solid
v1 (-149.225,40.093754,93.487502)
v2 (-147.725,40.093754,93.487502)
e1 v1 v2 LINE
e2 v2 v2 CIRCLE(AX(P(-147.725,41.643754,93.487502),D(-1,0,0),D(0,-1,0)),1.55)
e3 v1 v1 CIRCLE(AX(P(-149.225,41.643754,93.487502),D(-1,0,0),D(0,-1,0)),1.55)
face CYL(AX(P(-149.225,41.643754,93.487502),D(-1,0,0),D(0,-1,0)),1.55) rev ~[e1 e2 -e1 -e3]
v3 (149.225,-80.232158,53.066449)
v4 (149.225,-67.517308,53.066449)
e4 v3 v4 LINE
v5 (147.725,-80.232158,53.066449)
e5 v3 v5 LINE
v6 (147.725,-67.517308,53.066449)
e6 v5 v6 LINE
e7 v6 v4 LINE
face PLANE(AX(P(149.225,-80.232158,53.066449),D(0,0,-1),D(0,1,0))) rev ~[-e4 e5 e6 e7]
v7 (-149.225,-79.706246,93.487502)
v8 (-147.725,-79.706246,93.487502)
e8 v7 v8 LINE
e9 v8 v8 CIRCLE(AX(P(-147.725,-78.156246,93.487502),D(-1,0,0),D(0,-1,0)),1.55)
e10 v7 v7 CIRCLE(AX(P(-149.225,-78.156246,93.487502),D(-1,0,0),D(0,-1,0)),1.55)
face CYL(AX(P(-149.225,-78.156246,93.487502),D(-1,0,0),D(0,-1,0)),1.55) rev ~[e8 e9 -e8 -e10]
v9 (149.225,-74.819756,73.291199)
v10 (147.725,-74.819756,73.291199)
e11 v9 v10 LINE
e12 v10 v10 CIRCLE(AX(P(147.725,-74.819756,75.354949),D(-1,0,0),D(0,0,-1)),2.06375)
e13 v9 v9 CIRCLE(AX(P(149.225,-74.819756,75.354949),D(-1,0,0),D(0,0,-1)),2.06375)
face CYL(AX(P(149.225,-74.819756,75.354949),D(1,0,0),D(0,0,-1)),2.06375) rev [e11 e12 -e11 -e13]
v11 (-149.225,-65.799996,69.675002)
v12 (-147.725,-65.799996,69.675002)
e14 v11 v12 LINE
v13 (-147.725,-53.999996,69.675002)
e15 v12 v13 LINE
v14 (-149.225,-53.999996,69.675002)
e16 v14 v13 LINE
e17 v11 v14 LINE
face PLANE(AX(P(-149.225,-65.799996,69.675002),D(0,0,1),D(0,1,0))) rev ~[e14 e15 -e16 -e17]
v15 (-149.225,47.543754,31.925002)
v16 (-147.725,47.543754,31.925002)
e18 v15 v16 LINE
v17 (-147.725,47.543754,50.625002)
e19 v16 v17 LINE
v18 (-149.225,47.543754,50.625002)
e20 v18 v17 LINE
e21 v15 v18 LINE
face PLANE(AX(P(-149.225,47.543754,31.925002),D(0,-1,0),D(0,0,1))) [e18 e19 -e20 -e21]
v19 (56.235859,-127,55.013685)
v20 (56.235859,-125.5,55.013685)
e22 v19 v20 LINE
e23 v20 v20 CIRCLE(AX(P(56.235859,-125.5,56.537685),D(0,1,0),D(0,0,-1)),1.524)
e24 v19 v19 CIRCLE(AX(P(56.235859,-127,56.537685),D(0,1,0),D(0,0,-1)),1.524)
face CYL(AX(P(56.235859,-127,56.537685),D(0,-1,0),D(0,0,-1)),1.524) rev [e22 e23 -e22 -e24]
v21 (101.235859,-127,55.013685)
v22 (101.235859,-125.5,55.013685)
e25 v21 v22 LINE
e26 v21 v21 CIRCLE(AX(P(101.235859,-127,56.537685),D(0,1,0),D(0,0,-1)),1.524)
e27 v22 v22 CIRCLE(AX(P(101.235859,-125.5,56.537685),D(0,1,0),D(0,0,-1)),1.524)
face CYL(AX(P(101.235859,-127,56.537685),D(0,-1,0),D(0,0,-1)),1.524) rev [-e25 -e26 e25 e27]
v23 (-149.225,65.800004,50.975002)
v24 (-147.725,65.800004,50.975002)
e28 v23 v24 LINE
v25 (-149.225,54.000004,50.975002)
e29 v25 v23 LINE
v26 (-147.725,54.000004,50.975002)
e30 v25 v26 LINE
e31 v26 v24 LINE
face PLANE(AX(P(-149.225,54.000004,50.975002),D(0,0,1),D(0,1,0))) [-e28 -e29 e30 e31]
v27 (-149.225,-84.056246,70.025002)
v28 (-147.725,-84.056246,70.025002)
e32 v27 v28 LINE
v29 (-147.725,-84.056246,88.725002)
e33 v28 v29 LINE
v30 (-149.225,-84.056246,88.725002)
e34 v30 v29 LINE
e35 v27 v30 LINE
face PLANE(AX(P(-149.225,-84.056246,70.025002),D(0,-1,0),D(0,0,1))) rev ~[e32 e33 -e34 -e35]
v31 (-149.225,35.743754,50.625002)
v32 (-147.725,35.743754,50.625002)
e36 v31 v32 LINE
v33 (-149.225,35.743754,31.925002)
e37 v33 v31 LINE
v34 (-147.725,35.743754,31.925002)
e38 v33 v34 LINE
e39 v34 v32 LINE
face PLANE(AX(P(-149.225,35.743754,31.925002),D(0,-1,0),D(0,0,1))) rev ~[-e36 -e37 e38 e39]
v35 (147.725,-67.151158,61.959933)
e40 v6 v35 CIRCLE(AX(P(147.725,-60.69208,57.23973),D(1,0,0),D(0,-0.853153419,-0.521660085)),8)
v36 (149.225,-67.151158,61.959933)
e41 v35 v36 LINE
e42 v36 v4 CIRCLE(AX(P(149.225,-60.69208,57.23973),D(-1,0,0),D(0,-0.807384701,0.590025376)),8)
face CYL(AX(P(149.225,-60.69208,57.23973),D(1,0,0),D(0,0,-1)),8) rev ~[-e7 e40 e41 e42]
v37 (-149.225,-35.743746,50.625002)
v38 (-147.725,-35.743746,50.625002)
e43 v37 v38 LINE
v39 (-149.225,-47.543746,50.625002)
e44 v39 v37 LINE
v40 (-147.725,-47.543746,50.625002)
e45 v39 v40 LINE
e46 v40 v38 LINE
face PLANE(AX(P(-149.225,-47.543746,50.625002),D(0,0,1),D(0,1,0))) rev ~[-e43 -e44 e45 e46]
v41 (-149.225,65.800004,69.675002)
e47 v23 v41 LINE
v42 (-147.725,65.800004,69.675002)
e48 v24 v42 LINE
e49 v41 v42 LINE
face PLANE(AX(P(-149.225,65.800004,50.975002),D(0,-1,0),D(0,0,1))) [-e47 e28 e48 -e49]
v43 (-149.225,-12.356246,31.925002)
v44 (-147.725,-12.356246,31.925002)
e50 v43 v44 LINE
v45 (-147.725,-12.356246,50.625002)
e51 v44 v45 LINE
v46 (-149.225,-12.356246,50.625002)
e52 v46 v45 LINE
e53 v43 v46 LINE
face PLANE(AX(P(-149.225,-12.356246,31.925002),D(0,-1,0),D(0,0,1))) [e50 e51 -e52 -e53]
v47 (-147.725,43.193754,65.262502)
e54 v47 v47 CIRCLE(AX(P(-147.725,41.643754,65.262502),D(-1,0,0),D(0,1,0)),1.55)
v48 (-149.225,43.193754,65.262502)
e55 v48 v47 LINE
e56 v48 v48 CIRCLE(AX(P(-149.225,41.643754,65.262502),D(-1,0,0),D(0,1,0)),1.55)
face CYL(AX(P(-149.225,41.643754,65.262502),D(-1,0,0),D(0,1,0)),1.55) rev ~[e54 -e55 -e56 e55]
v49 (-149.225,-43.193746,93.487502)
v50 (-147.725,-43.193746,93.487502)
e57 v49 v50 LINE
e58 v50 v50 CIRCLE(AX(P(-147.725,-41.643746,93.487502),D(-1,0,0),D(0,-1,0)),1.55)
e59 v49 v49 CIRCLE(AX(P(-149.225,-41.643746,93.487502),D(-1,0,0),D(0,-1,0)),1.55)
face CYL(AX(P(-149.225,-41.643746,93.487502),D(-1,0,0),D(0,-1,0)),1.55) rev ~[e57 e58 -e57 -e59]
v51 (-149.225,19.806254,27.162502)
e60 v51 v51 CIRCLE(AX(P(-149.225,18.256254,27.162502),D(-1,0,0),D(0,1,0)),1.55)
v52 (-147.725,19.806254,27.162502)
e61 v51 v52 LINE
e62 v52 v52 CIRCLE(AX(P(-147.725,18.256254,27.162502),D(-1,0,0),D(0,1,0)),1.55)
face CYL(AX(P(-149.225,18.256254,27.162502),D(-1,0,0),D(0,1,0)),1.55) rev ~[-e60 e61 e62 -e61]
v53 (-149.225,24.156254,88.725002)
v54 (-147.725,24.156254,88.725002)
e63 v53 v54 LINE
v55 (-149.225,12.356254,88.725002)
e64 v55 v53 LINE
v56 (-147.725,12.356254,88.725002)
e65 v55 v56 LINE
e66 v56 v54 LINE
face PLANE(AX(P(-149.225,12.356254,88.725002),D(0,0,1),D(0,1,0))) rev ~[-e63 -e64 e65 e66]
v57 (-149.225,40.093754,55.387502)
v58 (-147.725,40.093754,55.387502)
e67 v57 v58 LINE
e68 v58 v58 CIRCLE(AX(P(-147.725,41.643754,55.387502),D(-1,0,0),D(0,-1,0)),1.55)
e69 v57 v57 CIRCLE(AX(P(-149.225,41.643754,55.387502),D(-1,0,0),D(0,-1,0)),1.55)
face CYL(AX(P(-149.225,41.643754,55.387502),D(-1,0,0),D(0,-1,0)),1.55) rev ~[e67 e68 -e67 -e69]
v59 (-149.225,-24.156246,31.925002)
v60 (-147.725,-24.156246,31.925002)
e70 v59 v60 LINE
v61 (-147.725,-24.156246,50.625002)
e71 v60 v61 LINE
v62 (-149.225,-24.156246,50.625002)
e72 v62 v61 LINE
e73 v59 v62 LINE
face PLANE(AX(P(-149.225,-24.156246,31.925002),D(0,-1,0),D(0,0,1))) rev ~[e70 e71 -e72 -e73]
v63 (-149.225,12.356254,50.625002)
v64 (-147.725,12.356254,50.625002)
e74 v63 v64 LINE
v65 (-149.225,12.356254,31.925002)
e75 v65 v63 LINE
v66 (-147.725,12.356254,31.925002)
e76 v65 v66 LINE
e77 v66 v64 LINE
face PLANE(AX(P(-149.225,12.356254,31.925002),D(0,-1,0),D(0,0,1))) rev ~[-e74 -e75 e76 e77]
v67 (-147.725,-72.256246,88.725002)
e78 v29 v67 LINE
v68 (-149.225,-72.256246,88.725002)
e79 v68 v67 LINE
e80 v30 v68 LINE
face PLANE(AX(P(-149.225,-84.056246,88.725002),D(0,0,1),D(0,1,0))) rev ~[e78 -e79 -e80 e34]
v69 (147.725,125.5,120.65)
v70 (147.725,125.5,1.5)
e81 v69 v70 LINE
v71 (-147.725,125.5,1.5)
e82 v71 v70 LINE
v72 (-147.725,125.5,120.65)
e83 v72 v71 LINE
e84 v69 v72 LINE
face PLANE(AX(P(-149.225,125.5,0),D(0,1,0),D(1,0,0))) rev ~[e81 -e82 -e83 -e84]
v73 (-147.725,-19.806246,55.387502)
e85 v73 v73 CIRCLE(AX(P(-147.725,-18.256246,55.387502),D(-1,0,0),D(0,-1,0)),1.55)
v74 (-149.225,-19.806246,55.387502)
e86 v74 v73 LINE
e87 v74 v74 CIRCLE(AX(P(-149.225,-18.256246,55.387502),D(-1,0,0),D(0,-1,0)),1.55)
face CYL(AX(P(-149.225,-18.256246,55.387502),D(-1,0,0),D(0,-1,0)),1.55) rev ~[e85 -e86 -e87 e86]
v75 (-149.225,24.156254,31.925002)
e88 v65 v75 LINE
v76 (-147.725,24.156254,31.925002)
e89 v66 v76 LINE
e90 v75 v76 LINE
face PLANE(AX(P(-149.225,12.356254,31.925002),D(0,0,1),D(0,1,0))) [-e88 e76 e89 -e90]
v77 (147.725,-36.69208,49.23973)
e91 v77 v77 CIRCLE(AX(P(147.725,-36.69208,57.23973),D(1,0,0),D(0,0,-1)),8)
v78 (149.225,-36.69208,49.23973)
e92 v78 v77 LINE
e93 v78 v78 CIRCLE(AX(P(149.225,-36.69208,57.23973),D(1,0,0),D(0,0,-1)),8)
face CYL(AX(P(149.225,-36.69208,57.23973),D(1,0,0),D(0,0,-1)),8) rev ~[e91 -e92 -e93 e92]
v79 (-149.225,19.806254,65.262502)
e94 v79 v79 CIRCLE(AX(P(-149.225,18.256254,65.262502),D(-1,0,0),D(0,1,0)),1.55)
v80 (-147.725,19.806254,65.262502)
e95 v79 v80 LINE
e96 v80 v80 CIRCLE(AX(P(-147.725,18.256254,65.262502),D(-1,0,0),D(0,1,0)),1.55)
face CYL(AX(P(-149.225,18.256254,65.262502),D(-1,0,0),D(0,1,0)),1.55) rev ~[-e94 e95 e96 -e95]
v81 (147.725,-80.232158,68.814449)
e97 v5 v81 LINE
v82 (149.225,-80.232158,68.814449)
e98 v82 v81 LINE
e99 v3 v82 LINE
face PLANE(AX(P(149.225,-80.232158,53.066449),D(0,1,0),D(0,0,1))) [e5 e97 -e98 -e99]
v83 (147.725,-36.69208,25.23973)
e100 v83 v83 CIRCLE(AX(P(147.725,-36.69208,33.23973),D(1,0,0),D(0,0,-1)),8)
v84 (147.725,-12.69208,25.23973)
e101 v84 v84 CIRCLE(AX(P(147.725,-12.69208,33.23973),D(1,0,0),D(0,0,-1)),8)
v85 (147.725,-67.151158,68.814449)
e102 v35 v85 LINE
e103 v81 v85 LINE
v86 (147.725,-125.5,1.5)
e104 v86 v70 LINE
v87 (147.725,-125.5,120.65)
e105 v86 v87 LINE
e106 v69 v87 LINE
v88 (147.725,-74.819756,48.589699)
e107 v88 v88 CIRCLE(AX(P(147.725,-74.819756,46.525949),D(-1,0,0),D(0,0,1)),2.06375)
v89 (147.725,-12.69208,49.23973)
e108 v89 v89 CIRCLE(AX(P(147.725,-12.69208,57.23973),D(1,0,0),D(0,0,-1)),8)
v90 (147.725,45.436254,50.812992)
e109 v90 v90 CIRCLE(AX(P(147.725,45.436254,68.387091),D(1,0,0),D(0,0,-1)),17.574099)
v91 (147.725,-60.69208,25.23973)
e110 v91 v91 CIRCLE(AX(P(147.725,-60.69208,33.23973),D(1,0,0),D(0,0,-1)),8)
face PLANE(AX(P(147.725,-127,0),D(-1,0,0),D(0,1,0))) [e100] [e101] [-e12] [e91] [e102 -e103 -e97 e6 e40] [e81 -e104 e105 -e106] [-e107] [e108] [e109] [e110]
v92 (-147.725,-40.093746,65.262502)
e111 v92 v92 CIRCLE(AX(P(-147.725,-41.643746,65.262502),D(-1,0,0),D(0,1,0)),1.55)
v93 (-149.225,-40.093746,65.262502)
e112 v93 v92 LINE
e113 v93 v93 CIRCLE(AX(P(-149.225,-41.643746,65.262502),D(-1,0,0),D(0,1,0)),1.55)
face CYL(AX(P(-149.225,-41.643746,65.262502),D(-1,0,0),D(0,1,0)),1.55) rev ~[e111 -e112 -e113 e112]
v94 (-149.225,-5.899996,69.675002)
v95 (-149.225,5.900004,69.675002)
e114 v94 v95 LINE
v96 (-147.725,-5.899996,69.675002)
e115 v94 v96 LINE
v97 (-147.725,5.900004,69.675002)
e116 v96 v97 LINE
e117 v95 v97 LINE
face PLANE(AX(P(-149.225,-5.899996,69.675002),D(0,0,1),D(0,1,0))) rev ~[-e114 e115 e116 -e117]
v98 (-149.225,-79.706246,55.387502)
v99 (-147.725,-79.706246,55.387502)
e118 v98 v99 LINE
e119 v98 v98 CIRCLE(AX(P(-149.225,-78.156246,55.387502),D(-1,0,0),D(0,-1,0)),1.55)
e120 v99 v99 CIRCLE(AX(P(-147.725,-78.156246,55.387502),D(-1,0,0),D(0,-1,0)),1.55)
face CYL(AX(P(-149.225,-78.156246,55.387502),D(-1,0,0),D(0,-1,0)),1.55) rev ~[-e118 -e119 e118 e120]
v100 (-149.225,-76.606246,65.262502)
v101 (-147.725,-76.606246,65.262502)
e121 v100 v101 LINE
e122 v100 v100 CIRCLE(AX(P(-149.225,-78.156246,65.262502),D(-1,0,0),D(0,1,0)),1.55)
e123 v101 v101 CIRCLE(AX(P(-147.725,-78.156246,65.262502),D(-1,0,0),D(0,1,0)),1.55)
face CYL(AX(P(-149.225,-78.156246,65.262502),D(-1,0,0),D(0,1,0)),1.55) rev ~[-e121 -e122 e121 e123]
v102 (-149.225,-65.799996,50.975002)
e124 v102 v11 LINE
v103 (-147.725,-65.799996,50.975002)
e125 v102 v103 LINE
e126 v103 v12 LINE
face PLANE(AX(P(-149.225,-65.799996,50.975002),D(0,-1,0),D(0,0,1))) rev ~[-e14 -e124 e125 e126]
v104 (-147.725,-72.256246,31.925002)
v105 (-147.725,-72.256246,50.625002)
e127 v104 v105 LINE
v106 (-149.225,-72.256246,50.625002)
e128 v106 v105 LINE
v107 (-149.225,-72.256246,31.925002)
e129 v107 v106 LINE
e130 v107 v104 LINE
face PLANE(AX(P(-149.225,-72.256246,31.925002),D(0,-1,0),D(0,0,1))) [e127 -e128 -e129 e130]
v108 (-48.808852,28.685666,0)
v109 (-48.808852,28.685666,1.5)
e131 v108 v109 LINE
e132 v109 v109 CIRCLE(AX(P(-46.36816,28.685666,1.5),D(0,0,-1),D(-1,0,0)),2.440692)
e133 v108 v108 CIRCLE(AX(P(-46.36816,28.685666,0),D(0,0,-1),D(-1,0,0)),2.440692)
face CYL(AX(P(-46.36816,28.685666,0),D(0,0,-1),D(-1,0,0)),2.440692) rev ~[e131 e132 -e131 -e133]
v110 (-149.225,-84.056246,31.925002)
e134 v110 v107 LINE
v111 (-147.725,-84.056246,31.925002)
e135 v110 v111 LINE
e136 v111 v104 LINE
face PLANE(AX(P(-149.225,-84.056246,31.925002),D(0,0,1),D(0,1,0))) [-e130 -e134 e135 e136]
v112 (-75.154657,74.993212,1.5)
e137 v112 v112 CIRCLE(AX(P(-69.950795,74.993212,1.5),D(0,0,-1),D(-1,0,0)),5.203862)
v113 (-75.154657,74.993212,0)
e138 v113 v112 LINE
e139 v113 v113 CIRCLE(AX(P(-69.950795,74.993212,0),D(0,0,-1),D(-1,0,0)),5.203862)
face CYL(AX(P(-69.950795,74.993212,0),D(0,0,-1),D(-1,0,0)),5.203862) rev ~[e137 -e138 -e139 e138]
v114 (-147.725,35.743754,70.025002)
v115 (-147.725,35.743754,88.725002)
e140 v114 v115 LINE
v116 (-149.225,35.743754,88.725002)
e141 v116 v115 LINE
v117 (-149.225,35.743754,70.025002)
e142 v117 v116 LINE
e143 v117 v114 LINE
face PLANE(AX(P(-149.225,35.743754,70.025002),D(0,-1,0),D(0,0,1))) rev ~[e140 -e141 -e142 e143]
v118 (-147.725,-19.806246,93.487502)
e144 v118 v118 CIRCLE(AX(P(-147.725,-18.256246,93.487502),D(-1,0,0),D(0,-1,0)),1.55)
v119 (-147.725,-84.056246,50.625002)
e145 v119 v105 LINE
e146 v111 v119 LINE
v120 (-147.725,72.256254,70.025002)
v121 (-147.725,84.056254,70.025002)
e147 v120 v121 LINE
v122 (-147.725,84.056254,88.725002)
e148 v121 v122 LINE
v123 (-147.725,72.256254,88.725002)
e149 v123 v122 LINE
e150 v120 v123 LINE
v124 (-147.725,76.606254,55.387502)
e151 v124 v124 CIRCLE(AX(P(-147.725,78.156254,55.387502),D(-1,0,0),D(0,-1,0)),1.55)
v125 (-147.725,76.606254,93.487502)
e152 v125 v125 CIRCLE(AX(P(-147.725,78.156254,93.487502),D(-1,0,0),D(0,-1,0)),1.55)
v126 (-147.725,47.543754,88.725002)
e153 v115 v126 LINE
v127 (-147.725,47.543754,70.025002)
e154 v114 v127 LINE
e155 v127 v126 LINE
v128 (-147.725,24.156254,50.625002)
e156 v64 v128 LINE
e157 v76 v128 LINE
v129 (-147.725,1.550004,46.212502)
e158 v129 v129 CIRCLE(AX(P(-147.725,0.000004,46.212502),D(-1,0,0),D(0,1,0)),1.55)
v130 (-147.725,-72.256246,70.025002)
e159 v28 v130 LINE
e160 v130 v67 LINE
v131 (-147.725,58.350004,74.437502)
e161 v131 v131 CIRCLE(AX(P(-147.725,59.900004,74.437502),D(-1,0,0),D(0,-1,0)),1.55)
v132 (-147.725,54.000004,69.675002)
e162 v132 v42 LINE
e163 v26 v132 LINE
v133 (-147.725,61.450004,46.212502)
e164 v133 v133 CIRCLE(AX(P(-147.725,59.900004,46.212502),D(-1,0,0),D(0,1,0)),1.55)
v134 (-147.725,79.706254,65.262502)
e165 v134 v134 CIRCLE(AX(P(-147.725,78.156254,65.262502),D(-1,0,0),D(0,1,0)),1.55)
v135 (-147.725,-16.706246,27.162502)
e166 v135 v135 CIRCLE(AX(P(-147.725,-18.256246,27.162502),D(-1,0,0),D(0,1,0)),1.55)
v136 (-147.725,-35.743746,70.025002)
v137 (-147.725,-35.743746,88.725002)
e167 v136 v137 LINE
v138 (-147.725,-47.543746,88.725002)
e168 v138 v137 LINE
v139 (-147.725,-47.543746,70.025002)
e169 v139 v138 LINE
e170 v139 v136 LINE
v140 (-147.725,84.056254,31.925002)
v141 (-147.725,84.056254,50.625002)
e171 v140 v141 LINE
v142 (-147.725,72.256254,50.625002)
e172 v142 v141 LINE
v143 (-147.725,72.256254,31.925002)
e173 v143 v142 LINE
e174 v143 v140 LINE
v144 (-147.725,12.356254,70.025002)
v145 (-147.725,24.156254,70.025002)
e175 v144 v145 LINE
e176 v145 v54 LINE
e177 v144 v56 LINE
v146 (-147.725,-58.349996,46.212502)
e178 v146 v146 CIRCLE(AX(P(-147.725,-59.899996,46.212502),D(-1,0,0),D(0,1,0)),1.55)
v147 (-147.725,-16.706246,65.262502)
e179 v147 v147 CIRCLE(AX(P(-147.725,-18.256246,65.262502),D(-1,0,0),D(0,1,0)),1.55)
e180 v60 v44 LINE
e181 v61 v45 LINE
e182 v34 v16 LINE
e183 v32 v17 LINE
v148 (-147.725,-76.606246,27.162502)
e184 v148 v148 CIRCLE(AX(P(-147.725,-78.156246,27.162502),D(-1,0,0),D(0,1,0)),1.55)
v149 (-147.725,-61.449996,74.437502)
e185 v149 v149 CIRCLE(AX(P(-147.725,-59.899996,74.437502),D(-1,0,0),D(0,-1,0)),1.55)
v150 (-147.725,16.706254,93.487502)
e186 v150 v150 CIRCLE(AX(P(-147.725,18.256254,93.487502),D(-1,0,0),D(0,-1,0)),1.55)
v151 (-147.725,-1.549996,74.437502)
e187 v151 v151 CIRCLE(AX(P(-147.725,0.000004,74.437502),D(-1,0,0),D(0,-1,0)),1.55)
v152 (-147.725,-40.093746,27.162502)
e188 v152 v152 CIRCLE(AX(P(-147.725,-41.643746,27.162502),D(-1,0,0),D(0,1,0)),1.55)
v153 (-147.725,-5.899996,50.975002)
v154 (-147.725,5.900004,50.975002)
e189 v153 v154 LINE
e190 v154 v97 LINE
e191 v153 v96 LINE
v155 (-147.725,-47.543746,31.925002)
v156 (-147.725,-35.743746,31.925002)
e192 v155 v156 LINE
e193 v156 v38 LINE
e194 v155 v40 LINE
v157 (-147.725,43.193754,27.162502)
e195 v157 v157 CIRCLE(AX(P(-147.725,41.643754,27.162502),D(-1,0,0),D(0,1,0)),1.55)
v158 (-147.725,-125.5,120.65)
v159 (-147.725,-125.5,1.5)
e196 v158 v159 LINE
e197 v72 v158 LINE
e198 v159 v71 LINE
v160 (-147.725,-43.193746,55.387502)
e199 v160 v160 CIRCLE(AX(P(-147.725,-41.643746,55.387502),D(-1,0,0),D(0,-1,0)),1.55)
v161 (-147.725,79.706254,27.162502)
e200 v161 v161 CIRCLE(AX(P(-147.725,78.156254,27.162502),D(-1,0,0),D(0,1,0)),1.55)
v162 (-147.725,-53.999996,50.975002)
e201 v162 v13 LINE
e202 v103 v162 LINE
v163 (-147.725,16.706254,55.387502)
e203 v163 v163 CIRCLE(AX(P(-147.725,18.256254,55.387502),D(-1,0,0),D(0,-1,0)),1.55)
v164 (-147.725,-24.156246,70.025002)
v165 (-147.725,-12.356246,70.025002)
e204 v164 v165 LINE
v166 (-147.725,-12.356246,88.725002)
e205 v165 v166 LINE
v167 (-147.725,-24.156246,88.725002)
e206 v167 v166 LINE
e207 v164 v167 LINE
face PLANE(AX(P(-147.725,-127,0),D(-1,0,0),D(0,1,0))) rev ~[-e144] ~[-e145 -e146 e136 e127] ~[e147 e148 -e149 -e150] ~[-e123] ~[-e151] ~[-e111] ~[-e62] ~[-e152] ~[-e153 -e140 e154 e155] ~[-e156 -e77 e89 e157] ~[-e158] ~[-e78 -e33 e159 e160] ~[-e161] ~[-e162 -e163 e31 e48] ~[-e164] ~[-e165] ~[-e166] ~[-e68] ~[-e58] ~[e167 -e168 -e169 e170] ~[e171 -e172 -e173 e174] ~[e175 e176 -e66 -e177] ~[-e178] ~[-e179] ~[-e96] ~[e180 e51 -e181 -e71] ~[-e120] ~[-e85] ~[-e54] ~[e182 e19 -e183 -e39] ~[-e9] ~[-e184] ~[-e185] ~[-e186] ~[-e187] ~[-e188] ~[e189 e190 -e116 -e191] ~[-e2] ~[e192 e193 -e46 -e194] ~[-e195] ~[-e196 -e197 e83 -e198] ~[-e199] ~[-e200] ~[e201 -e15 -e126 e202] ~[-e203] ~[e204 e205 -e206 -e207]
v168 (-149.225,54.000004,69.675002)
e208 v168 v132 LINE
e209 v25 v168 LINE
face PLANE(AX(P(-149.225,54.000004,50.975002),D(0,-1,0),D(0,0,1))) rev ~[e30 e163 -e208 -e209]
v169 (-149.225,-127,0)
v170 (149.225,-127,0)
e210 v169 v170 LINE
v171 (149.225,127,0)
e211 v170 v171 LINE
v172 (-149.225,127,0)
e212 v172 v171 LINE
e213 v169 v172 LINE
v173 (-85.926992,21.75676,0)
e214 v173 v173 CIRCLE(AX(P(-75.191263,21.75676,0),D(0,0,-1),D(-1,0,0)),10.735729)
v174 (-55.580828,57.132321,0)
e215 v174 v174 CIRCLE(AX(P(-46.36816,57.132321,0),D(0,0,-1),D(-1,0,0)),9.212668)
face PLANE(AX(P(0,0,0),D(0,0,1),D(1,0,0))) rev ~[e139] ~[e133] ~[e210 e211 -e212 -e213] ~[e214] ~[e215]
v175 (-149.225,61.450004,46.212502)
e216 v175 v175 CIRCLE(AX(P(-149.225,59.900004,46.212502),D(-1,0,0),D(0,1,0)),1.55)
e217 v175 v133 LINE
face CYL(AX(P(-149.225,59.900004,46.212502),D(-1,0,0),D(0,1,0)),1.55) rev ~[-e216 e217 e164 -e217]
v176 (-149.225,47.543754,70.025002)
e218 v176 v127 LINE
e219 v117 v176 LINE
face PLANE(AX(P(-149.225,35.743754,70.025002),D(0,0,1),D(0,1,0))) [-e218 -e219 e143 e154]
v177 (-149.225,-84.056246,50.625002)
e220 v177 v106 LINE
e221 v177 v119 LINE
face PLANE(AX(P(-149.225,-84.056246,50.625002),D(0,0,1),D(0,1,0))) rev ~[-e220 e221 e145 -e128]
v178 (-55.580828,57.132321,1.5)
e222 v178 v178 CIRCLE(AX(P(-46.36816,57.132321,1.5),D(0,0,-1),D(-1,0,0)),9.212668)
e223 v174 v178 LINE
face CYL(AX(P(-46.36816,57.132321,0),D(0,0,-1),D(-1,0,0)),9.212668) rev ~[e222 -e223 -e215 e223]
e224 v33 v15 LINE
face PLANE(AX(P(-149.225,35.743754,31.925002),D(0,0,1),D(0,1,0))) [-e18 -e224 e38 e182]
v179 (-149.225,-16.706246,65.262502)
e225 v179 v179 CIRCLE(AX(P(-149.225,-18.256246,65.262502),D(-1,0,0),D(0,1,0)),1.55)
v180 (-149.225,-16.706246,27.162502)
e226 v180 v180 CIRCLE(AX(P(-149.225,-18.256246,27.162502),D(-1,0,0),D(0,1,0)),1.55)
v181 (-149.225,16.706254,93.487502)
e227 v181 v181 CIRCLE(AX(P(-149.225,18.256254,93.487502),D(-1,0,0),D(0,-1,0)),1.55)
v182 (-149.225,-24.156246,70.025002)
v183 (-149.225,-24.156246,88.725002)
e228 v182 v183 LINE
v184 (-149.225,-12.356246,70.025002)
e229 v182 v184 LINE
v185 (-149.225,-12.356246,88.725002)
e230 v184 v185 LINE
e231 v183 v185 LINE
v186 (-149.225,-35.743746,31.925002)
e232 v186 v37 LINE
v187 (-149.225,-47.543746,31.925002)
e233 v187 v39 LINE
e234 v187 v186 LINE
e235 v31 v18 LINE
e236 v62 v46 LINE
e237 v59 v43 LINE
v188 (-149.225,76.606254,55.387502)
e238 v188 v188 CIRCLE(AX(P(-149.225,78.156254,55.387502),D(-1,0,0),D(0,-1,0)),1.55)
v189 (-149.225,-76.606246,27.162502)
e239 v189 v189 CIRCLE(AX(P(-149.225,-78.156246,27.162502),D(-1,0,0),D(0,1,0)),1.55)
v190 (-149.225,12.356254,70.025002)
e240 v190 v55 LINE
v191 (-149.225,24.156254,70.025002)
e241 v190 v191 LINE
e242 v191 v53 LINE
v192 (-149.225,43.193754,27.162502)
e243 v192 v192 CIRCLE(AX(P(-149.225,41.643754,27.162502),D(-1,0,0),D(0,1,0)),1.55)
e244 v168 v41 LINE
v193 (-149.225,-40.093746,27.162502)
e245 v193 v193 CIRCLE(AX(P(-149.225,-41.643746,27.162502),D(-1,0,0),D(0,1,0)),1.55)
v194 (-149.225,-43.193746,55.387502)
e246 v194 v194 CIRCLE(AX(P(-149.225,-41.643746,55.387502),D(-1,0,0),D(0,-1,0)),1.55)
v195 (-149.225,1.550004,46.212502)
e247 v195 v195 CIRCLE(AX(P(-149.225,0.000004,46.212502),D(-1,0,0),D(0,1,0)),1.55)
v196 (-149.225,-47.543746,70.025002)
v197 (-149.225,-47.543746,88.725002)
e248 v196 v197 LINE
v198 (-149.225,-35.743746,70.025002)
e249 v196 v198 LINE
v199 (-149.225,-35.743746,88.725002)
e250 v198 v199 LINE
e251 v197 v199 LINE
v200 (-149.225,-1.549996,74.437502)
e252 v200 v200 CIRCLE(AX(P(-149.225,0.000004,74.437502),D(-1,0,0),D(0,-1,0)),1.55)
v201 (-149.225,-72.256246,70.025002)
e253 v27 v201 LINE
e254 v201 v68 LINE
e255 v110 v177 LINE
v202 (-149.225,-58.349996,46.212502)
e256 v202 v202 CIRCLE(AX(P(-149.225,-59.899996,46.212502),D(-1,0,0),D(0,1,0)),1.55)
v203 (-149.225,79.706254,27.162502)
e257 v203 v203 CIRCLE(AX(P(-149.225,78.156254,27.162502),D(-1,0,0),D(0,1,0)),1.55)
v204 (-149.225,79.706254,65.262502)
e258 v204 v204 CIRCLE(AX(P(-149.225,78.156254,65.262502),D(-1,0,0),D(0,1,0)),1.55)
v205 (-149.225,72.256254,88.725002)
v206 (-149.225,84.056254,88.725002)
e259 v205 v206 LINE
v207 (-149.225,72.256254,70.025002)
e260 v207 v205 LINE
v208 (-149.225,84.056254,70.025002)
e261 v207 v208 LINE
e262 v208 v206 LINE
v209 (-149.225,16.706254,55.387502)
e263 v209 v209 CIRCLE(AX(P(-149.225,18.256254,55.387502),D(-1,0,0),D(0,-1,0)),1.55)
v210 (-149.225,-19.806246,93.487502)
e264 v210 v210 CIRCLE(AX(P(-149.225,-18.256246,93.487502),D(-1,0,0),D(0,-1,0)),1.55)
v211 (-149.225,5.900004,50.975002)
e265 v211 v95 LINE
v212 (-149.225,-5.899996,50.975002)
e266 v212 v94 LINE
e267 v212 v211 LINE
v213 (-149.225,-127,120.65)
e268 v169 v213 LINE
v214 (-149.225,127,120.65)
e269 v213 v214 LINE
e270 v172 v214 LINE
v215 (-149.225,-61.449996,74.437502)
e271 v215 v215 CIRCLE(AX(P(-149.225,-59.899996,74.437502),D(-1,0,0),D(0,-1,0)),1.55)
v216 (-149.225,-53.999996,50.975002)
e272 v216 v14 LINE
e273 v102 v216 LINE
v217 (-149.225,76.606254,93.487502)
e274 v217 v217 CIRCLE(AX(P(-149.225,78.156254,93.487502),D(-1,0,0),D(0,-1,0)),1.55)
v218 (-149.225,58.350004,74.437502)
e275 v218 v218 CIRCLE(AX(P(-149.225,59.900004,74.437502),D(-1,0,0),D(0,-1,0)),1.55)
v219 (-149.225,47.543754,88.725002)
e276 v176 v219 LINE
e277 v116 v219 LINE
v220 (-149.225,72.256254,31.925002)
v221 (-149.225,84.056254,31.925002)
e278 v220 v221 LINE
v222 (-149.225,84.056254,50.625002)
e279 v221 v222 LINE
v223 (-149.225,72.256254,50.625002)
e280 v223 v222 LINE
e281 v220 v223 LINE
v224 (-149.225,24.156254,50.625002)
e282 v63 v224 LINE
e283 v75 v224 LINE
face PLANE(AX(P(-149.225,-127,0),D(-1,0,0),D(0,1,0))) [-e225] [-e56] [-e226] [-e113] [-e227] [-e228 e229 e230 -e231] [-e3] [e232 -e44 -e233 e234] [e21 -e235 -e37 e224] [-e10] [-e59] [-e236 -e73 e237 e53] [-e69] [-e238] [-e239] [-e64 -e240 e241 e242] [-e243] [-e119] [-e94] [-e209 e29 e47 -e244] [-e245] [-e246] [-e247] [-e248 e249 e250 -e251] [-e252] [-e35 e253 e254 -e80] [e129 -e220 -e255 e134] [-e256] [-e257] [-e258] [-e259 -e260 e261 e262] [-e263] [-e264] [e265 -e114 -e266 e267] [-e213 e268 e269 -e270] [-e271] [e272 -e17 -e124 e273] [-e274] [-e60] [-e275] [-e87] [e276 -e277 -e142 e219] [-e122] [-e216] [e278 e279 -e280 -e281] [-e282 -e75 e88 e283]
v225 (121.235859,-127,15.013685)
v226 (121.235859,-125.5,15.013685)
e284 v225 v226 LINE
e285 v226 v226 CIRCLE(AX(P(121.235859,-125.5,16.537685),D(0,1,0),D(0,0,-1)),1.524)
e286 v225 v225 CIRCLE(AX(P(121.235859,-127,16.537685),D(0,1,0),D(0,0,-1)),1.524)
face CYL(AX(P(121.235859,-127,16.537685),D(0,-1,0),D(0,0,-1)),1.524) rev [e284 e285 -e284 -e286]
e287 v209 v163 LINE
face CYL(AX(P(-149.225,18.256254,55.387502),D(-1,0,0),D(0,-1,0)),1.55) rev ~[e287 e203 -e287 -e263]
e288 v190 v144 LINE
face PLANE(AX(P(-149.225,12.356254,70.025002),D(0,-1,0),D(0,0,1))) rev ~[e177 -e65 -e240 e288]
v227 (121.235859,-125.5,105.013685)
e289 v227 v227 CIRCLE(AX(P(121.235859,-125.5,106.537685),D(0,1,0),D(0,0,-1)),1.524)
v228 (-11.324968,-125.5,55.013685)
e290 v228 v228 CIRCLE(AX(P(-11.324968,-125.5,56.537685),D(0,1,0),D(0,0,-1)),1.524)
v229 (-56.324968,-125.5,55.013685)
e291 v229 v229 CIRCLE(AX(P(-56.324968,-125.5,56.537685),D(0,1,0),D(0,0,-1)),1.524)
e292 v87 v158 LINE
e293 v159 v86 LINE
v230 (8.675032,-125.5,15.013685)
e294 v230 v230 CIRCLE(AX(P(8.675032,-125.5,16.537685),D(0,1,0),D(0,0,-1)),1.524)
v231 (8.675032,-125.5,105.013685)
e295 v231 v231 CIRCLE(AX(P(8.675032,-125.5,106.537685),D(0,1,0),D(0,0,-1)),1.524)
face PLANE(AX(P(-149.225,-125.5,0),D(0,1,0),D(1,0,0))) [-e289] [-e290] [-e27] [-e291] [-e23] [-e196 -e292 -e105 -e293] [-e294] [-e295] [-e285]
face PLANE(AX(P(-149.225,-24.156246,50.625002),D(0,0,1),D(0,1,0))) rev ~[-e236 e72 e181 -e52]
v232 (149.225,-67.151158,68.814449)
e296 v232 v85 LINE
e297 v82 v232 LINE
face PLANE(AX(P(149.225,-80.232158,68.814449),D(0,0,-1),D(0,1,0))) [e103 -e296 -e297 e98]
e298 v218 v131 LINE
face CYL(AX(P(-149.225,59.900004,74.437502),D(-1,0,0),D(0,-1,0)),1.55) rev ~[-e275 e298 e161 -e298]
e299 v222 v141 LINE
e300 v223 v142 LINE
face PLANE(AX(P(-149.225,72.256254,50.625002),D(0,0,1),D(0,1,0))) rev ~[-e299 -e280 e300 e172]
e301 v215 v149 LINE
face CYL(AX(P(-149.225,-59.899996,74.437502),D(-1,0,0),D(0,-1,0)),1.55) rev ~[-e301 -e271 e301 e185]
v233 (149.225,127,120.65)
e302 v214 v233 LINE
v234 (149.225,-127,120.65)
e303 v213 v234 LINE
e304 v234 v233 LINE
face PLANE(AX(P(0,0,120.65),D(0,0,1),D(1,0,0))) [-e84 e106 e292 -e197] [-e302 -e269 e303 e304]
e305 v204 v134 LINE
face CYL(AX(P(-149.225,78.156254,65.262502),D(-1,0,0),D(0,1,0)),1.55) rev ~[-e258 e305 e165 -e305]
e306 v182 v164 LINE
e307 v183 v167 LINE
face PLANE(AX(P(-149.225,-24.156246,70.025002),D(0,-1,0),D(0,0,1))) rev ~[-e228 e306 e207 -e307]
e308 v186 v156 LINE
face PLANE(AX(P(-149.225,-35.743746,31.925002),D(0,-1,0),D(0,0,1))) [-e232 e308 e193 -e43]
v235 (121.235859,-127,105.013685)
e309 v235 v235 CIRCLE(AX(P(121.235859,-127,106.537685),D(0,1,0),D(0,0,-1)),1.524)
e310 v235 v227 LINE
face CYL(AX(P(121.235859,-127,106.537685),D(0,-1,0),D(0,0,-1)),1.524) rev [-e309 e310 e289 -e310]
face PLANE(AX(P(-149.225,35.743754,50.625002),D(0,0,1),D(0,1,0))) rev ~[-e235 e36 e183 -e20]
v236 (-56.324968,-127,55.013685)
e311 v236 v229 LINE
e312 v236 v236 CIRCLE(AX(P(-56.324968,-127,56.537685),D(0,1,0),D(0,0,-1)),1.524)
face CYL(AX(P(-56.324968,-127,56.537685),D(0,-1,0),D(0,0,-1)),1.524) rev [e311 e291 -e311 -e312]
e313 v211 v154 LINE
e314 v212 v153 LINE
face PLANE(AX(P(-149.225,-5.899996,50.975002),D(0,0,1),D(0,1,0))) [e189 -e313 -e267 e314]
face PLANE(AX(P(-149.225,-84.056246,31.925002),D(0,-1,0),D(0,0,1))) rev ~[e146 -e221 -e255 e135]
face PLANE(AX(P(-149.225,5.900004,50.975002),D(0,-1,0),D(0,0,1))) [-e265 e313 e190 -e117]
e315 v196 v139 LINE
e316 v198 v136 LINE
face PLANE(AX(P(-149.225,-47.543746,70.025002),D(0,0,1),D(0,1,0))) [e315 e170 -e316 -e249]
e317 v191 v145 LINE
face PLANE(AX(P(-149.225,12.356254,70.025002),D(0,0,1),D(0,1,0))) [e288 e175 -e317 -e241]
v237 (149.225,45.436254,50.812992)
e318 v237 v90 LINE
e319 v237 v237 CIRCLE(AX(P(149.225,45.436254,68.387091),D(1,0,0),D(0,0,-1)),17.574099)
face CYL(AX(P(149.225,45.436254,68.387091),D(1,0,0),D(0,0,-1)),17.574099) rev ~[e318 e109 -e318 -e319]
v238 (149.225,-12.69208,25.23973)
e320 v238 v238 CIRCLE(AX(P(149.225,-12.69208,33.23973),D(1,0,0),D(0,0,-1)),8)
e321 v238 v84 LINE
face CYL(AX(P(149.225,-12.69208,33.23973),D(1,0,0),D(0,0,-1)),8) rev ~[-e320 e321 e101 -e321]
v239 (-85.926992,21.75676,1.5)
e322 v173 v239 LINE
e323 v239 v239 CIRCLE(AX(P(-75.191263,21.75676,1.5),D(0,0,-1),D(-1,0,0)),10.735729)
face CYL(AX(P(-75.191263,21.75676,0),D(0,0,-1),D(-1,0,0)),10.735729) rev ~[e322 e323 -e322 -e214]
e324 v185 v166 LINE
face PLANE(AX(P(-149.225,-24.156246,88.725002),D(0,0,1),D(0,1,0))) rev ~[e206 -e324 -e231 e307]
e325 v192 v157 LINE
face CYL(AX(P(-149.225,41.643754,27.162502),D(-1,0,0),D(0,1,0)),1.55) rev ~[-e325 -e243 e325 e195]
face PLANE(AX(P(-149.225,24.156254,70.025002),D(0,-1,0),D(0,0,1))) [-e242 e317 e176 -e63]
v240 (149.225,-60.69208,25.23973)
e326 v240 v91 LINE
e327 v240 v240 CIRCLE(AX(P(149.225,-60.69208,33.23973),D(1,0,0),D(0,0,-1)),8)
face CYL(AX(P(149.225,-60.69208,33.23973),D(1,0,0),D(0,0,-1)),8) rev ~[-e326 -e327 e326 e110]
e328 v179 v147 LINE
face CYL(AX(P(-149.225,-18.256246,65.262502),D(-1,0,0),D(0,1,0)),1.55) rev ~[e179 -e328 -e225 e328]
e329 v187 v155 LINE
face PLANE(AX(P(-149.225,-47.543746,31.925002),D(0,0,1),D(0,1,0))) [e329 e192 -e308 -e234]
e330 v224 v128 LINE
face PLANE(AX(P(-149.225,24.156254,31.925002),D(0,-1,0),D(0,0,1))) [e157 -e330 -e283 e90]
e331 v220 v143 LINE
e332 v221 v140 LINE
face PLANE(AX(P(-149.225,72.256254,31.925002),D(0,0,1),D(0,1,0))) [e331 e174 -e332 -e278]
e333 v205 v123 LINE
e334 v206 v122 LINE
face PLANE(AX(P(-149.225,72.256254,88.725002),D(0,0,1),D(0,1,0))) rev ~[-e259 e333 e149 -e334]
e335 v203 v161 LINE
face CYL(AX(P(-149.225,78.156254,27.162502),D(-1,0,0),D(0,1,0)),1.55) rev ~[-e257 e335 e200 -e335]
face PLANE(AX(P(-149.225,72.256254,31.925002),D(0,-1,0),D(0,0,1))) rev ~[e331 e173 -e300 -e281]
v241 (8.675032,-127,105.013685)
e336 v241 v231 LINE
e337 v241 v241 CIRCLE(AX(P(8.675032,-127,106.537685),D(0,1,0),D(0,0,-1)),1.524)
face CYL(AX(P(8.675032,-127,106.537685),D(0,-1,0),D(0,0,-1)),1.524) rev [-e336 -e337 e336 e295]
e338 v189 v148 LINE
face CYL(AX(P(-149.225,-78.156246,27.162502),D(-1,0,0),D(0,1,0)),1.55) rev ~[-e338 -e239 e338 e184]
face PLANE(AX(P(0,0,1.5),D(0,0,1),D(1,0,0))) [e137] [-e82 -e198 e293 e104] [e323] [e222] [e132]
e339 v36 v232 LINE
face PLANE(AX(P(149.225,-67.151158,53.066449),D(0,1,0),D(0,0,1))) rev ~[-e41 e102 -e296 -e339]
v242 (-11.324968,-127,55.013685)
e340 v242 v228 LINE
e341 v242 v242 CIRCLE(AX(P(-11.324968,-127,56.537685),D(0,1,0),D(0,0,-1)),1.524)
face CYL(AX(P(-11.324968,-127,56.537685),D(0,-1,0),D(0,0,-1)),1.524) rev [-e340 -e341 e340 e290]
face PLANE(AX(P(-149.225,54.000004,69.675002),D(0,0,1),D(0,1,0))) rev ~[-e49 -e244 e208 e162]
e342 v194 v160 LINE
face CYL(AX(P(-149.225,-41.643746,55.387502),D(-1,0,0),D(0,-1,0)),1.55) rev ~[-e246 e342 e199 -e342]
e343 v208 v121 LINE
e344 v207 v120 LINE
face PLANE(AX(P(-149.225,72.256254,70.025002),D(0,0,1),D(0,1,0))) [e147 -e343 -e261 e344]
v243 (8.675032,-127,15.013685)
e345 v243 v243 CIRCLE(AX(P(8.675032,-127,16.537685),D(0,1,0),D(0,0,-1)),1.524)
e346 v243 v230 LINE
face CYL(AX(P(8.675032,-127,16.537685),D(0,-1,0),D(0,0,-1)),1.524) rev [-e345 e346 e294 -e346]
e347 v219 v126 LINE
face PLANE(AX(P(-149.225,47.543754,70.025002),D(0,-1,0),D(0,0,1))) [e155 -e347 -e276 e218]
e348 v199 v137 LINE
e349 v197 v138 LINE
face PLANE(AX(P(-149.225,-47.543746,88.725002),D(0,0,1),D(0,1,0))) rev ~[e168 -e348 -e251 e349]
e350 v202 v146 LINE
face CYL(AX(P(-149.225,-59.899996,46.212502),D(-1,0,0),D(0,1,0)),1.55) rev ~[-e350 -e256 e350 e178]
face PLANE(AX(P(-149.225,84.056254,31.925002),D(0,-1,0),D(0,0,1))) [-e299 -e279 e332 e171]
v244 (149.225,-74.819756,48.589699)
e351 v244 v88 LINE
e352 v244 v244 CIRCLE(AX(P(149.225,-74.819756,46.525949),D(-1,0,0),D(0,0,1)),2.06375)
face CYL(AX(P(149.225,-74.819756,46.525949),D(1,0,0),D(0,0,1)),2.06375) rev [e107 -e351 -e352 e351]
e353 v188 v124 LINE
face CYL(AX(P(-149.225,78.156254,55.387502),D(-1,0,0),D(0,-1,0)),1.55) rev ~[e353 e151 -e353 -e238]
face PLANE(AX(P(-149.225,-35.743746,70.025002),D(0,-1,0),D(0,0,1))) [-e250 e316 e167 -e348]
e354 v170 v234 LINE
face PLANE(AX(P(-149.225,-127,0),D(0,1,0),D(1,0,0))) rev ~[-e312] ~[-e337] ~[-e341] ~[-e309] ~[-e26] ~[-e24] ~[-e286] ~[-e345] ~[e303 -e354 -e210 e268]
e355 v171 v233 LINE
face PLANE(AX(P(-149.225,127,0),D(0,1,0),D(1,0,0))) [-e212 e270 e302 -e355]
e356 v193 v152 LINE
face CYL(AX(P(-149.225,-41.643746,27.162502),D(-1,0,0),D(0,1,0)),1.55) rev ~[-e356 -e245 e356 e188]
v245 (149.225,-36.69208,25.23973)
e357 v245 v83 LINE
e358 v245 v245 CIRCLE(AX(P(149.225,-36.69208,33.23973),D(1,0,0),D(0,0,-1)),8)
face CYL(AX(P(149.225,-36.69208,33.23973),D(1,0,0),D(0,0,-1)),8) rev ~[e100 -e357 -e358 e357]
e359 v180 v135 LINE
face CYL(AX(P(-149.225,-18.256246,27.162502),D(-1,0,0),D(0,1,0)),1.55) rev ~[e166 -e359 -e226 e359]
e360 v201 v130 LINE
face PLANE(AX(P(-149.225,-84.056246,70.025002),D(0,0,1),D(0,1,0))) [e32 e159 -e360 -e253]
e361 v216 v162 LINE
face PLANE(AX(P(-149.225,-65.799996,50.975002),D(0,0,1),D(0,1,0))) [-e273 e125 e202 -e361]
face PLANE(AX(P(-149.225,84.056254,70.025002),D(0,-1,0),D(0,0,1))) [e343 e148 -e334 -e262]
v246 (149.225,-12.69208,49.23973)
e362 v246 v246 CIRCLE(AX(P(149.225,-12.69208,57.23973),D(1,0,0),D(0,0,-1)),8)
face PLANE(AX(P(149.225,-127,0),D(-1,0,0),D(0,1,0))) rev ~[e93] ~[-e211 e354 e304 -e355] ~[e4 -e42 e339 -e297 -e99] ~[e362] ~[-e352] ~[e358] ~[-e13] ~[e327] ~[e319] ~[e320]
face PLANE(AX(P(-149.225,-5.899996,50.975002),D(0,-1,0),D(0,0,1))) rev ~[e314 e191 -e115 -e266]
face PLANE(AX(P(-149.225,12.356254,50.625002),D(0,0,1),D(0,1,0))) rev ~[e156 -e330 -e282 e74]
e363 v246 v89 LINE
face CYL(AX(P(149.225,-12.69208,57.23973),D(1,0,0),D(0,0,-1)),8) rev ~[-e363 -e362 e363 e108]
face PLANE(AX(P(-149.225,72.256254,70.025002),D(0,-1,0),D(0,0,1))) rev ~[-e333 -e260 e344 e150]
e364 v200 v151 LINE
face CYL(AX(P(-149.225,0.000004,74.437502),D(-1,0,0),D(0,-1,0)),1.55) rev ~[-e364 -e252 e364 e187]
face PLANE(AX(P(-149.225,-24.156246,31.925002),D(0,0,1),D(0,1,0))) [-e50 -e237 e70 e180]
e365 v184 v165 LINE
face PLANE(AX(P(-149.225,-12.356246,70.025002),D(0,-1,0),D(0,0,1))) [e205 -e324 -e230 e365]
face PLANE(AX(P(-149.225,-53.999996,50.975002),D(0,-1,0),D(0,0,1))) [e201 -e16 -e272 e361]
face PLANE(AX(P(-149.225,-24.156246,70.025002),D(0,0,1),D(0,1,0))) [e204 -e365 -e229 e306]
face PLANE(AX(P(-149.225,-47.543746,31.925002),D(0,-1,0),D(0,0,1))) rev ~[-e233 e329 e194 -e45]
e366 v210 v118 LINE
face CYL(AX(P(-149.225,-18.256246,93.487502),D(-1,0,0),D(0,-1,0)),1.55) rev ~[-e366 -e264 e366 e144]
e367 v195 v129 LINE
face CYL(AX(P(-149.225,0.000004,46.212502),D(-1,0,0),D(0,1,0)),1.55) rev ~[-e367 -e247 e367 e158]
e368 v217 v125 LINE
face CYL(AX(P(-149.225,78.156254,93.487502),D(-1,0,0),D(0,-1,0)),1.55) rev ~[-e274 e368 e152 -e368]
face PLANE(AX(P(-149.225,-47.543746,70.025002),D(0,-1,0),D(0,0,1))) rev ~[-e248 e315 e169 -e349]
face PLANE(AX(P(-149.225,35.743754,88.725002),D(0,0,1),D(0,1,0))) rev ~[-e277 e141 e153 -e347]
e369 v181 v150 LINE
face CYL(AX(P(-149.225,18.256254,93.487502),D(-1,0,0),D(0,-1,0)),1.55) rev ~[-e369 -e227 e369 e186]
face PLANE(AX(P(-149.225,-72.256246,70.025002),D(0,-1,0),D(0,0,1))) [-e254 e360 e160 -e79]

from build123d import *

# Parameters (mm, degrees)
SKETCH2_W                        = 298.45
SKETCH2_H                        = 254
BOSS_EXTRUDE1_DEPTH              = 120.65
SHELL1_T                         = -1.5
PT_CONNECTOR_CUTOUTS_REACH       = 348.06
SKETCH3_R                        = 8
SKETCH4_R                        = 1.55
SKETCH4_W                        = 18.7
SKETCH4_H                        = 11.8
SOLENOID_CONNECTOR_CUTOUTS_DEPTH = 1.5
SKETCH5_R                        = 1.524
PCB_MOUNTING_HOLES_DEPTH         = 1.5
SKETCH6_R                        = 17.574098895
CUT_EXTRUDE2_DEPTH               = 1.5
SKETCH7_R                        = 10.735729294
SKETCH7_R_2                      = 9.212667567
SKETCH7_R_3                      = 5.203861924
SKETCH7_R_4                      = 2.440691802
CUT_EXTRUDE3_DEPTH               = 1.5
SKETCH8_R                        = 2.06375
SKETCH8_W                        = 15.748
SKETCH8_H                        = 13.081
CUT_EXTRUDE4_DEPTH               = 1.5


with BuildPart() as part:
    # Sketch2 → Boss-Extrude1 (new body)
    with BuildSketch(Plane.XY):
        Rectangle(SKETCH2_W, SKETCH2_H)
    extrude(amount=BOSS_EXTRUDE1_DEPTH)

    # Shell1
    shell1_openings = [part.faces().sort_by_distance(p)[0] for p in [
        (0, 0, 120.65),
    ]]
    offset(amount=SHELL1_T, openings=shell1_openings, kind=Kind.INTERSECTION)

    # Sketch3 → PT Connector Cutouts (cut, up to next)
    with BuildSketch(Plane(origin=(149.225, 0, 0), x_dir=(0, 0, -1), z_dir=(1, 0, 0)), mode=Mode.PRIVATE) as pt_connector_cutouts_sk1:
        with Locations((-57.239729717, -60.69208043)):
            Circle(SKETCH3_R)
    pt_connector_cutouts_tool1 = extrude(pt_connector_cutouts_sk1.sketch, amount=-PT_CONNECTOR_CUTOUTS_REACH, mode=Mode.PRIVATE) & part.part
    # Sketch3 → PT Connector Cutouts (cut, up to next)
    with BuildSketch(Plane(origin=(149.225, 0, 0), x_dir=(0, 0, -1), z_dir=(1, 0, 0)), mode=Mode.PRIVATE) as pt_connector_cutouts_sk2:
        with Locations((-33.239729717, -60.69208043)):
            Circle(SKETCH3_R)
    pt_connector_cutouts_tool2 = extrude(pt_connector_cutouts_sk2.sketch, amount=-PT_CONNECTOR_CUTOUTS_REACH, mode=Mode.PRIVATE) & part.part
    # Sketch3 → PT Connector Cutouts (cut, up to next)
    with BuildSketch(Plane(origin=(149.225, 0, 0), x_dir=(0, 0, -1), z_dir=(1, 0, 0)), mode=Mode.PRIVATE) as pt_connector_cutouts_sk3:
        with Locations((-33.239729717, -36.69208043)):
            Circle(SKETCH3_R)
    pt_connector_cutouts_tool3 = extrude(pt_connector_cutouts_sk3.sketch, amount=-PT_CONNECTOR_CUTOUTS_REACH, mode=Mode.PRIVATE) & part.part
    # Sketch3 → PT Connector Cutouts (cut, up to next)
    with BuildSketch(Plane(origin=(149.225, 0, 0), x_dir=(0, 0, -1), z_dir=(1, 0, 0)), mode=Mode.PRIVATE) as pt_connector_cutouts_sk4:
        with Locations((-33.239729717, -12.69208043)):
            Circle(SKETCH3_R)
    pt_connector_cutouts_tool4 = extrude(pt_connector_cutouts_sk4.sketch, amount=-PT_CONNECTOR_CUTOUTS_REACH, mode=Mode.PRIVATE) & part.part
    # Sketch3 → PT Connector Cutouts (cut, up to next)
    with BuildSketch(Plane(origin=(149.225, 0, 0), x_dir=(0, 0, -1), z_dir=(1, 0, 0)), mode=Mode.PRIVATE) as pt_connector_cutouts_sk5:
        with Locations((-57.239729717, -36.69208043)):
            Circle(SKETCH3_R)
    pt_connector_cutouts_tool5 = extrude(pt_connector_cutouts_sk5.sketch, amount=-PT_CONNECTOR_CUTOUTS_REACH, mode=Mode.PRIVATE) & part.part
    # Sketch3 → PT Connector Cutouts (cut, up to next)
    with BuildSketch(Plane(origin=(149.225, 0, 0), x_dir=(0, 0, -1), z_dir=(1, 0, 0)), mode=Mode.PRIVATE) as pt_connector_cutouts_sk6:
        with Locations((-57.239729717, -12.69208043)):
            Circle(SKETCH3_R)
    pt_connector_cutouts_tool6 = extrude(pt_connector_cutouts_sk6.sketch, amount=-PT_CONNECTOR_CUTOUTS_REACH, mode=Mode.PRIVATE) & part.part
    add(pt_connector_cutouts_tool1.solids().sort_by_distance((149.225, -60.69208, 57.23973))[0], mode=Mode.SUBTRACT)
    add(pt_connector_cutouts_tool2.solids().sort_by_distance((149.225, -60.69208, 33.23973))[0], mode=Mode.SUBTRACT)
    add(pt_connector_cutouts_tool3.solids().sort_by_distance((149.225, -36.69208, 33.23973))[0], mode=Mode.SUBTRACT)
    add(pt_connector_cutouts_tool4.solids().sort_by_distance((149.225, -12.69208, 33.23973))[0], mode=Mode.SUBTRACT)
    add(pt_connector_cutouts_tool5.solids().sort_by_distance((149.225, -36.69208, 57.23973))[0], mode=Mode.SUBTRACT)
    add(pt_connector_cutouts_tool6.solids().sort_by_distance((149.225, -12.69208, 57.23973))[0], mode=Mode.SUBTRACT)

    # Sketch4 → Solenoid Connector Cutouts (cut)
    with BuildSketch(Plane.ZY.offset(149.225)):
        with Locations(Location((55.387501773, 78.156254231, 0), (0, 0, 270))):
            Circle(SKETCH4_R)
        with Locations(Location((27.162501773, 78.156254231, 0), (0, 0, 90))):
            Circle(SKETCH4_R)
        with Locations(Location((93.487501773, 78.156254231, 0), (0, 0, 270))):
            Circle(SKETCH4_R)
        with Locations(Location((65.262501773, 78.156254231, 0), (0, 0, 90))):
            Circle(SKETCH4_R)
        with Locations(Location((93.487501773, 41.643754231, 0), (0, 0, 270))):
            Circle(SKETCH4_R)
        with Locations(Location((65.262501773, 41.643754231, 0), (0, 0, 90))):
            Circle(SKETCH4_R)
        with Locations(Location((93.487501773, 18.256254231, 0), (0, 0, 270))):
            Circle(SKETCH4_R)
        with Locations(Location((65.262501773, 18.256254231, 0), (0, 0, 90))):
            Circle(SKETCH4_R)
        with Locations(Location((93.487501773, -18.256245769, 0), (0, 0, 270))):
            Circle(SKETCH4_R)
        with Locations(Location((65.262501773, -18.256245769, 0), (0, 0, 90))):
            Circle(SKETCH4_R)
        with Locations(Location((93.487501773, -41.643745769, 0), (0, 0, 270))):
            Circle(SKETCH4_R)
        with Locations(Location((65.262501773, -41.643745769, 0), (0, 0, 90))):
            Circle(SKETCH4_R)
        with Locations(Location((93.487501773, -78.156245769, 0), (0, 0, 270))):
            Circle(SKETCH4_R)
        with Locations(Location((65.262501773, -78.156245769, 0), (0, 0, 90))):
            Circle(SKETCH4_R)
        with Locations(Location((74.437501773, 59.900004231, 0), (0, 0, 270))):
            Circle(SKETCH4_R)
        with Locations(Location((46.212501773, 59.900004231, 0), (0, 0, 90))):
            Circle(SKETCH4_R)
        with Locations(Location((55.387501773, 41.643754231, 0), (0, 0, 270))):
            Circle(SKETCH4_R)
        with Locations(Location((27.162501773, 41.643754231, 0), (0, 0, 90))):
            Circle(SKETCH4_R)
        with Locations(Location((55.387501773, 18.256254231, 0), (0, 0, 270))):
            Circle(SKETCH4_R)
        with Locations(Location((27.162501773, 18.256254231, 0), (0, 0, 90))):
            Circle(SKETCH4_R)
        with Locations(Location((74.437501773, 4.231e-06, 0), (0, 0, 270))):
            Circle(SKETCH4_R)
        with Locations(Location((46.212501773, 4.231e-06, 0), (0, 0, 90))):
            Circle(SKETCH4_R)
        with Locations(Location((55.387501773, -18.256245769, 0), (0, 0, 270))):
            Circle(SKETCH4_R)
        with Locations(Location((27.162501773, -18.256245769, 0), (0, 0, 90))):
            Circle(SKETCH4_R)
        with Locations(Location((55.387501773, -41.643745769, 0), (0, 0, 270))):
            Circle(SKETCH4_R)
        with Locations(Location((27.162501773, -41.643745769, 0), (0, 0, 90))):
            Circle(SKETCH4_R)
        with Locations(Location((74.437501773, -59.899995769, 0), (0, 0, 270))):
            Circle(SKETCH4_R)
        with Locations(Location((46.212501773, -59.899995769, 0), (0, 0, 90))):
            Circle(SKETCH4_R)
        with Locations(Location((55.387501773, -78.156245769, 0), (0, 0, 270))):
            Circle(SKETCH4_R)
        with Locations(Location((27.162501773, -78.156245769, 0), (0, 0, 90))):
            Circle(SKETCH4_R)
        with Locations((41.275001773, 78.156254231)):
            Rectangle(SKETCH4_W, SKETCH4_H)
        with Locations((79.375001773, 78.156254231)):
            Rectangle(SKETCH4_W, SKETCH4_H)
        with Locations((79.375001773, 41.643754231)):
            Rectangle(SKETCH4_W, SKETCH4_H)
        with Locations((79.375001773, 18.256254231)):
            Rectangle(SKETCH4_W, SKETCH4_H)
        with Locations((79.375001773, -18.256245769)):
            Rectangle(SKETCH4_W, SKETCH4_H)
        with Locations((79.375001773, -41.643745769)):
            Rectangle(SKETCH4_W, SKETCH4_H)
        with Locations((79.375001773, -78.156245769)):
            Rectangle(SKETCH4_W, SKETCH4_H)
        with Locations((60.325001773, 59.900004231)):
            Rectangle(SKETCH4_W, SKETCH4_H)
        with Locations((41.275001773, 41.643754231)):
            Rectangle(SKETCH4_W, SKETCH4_H)
        with Locations((41.275001773, 18.256254231)):
            Rectangle(SKETCH4_W, SKETCH4_H)
        with Locations((60.325001773, 4.231e-06)):
            Rectangle(SKETCH4_W, SKETCH4_H)
        with Locations((41.275001773, -18.256245769)):
            Rectangle(SKETCH4_W, SKETCH4_H)
        with Locations((41.275001773, -41.643745769)):
            Rectangle(SKETCH4_W, SKETCH4_H)
        with Locations((60.325001773, -59.899995769)):
            Rectangle(SKETCH4_W, SKETCH4_H)
        with Locations((41.275001773, -78.156245769)):
            Rectangle(SKETCH4_W, SKETCH4_H)
    extrude(amount=-SOLENOID_CONNECTOR_CUTOUTS_DEPTH, mode=Mode.SUBTRACT)

    # Sketch5 → PCB Mounting Holes (cut)
    with BuildSketch(Plane(origin=(0, -127, 127), x_dir=(-1, 0, 0), z_dir=(0, 1, 0))):
        with Locations(Location((-121.235859114, -20.462314931, 0), (0, 0, 270))):
            Circle(SKETCH5_R)
        with Locations(Location((-56.235859114, -70.462314931, 0), (0, 0, 270))):
            Circle(SKETCH5_R)
        with Locations(Location((-121.235859114, -110.462314931, 0), (0, 0, 270))):
            Circle(SKETCH5_R)
        with Locations(Location((-101.235859114, -70.462314931, 0), (0, 0, 270))):
            Circle(SKETCH5_R)
        with Locations(Location((-8.675032002, -20.462314931, 0), (0, 0, 270))):
            Circle(SKETCH5_R)
        with Locations(Location((56.324967998, -70.462314931, 0), (0, 0, 270))):
            Circle(SKETCH5_R)
        with Locations(Location((-8.675032002, -110.462314931, 0), (0, 0, 270))):
            Circle(SKETCH5_R)
        with Locations(Location((11.324967998, -70.462314931, 0), (0, 0, 270))):
            Circle(SKETCH5_R)
    extrude(amount=PCB_MOUNTING_HOLES_DEPTH, mode=Mode.SUBTRACT)

    # Sketch6 → Cut-Extrude2 (cut)
    with BuildSketch(Plane(origin=(149.225, 0, 0), x_dir=(0, 0, -1), z_dir=(1, 0, 0))):
        with Locations((-68.387091128, 45.43625367)):
            Circle(SKETCH6_R)
    extrude(amount=-CUT_EXTRUDE2_DEPTH, mode=Mode.SUBTRACT)

    # Sketch7 → Cut-Extrude3 (cut)
    with BuildSketch(Plane(origin=(0, 0, 0), x_dir=(-1, 0, 0), z_dir=(0, 0, -1))):
        with Locations((75.19126283, 21.756760288)):
            Circle(SKETCH7_R)
        with Locations((46.368160054, 57.132321186)):
            Circle(SKETCH7_R_2)
        with Locations((69.95079545, 74.993212306)):
            Circle(SKETCH7_R_3)
        with Locations((46.368160054, 28.685666471)):
            Circle(SKETCH7_R_4)
    extrude(amount=-CUT_EXTRUDE3_DEPTH, mode=Mode.SUBTRACT)

    # Sketch8 → Cut-Extrude4 (cut)
    with BuildSketch(Plane.ZY.offset(-149.225)):
        with Locations((46.52594904, -74.819755611)):
            Circle(SKETCH8_R)
        with Locations(Location((75.35494904, -74.819755611, 0), (0, 0, 180))):
            Circle(SKETCH8_R)
        with Locations((60.94044904, -73.691658038)):
            Rectangle(SKETCH8_W, SKETCH8_H)
    extrude(amount=CUT_EXTRUDE4_DEPTH, mode=Mode.SUBTRACT)


solid = part.part
